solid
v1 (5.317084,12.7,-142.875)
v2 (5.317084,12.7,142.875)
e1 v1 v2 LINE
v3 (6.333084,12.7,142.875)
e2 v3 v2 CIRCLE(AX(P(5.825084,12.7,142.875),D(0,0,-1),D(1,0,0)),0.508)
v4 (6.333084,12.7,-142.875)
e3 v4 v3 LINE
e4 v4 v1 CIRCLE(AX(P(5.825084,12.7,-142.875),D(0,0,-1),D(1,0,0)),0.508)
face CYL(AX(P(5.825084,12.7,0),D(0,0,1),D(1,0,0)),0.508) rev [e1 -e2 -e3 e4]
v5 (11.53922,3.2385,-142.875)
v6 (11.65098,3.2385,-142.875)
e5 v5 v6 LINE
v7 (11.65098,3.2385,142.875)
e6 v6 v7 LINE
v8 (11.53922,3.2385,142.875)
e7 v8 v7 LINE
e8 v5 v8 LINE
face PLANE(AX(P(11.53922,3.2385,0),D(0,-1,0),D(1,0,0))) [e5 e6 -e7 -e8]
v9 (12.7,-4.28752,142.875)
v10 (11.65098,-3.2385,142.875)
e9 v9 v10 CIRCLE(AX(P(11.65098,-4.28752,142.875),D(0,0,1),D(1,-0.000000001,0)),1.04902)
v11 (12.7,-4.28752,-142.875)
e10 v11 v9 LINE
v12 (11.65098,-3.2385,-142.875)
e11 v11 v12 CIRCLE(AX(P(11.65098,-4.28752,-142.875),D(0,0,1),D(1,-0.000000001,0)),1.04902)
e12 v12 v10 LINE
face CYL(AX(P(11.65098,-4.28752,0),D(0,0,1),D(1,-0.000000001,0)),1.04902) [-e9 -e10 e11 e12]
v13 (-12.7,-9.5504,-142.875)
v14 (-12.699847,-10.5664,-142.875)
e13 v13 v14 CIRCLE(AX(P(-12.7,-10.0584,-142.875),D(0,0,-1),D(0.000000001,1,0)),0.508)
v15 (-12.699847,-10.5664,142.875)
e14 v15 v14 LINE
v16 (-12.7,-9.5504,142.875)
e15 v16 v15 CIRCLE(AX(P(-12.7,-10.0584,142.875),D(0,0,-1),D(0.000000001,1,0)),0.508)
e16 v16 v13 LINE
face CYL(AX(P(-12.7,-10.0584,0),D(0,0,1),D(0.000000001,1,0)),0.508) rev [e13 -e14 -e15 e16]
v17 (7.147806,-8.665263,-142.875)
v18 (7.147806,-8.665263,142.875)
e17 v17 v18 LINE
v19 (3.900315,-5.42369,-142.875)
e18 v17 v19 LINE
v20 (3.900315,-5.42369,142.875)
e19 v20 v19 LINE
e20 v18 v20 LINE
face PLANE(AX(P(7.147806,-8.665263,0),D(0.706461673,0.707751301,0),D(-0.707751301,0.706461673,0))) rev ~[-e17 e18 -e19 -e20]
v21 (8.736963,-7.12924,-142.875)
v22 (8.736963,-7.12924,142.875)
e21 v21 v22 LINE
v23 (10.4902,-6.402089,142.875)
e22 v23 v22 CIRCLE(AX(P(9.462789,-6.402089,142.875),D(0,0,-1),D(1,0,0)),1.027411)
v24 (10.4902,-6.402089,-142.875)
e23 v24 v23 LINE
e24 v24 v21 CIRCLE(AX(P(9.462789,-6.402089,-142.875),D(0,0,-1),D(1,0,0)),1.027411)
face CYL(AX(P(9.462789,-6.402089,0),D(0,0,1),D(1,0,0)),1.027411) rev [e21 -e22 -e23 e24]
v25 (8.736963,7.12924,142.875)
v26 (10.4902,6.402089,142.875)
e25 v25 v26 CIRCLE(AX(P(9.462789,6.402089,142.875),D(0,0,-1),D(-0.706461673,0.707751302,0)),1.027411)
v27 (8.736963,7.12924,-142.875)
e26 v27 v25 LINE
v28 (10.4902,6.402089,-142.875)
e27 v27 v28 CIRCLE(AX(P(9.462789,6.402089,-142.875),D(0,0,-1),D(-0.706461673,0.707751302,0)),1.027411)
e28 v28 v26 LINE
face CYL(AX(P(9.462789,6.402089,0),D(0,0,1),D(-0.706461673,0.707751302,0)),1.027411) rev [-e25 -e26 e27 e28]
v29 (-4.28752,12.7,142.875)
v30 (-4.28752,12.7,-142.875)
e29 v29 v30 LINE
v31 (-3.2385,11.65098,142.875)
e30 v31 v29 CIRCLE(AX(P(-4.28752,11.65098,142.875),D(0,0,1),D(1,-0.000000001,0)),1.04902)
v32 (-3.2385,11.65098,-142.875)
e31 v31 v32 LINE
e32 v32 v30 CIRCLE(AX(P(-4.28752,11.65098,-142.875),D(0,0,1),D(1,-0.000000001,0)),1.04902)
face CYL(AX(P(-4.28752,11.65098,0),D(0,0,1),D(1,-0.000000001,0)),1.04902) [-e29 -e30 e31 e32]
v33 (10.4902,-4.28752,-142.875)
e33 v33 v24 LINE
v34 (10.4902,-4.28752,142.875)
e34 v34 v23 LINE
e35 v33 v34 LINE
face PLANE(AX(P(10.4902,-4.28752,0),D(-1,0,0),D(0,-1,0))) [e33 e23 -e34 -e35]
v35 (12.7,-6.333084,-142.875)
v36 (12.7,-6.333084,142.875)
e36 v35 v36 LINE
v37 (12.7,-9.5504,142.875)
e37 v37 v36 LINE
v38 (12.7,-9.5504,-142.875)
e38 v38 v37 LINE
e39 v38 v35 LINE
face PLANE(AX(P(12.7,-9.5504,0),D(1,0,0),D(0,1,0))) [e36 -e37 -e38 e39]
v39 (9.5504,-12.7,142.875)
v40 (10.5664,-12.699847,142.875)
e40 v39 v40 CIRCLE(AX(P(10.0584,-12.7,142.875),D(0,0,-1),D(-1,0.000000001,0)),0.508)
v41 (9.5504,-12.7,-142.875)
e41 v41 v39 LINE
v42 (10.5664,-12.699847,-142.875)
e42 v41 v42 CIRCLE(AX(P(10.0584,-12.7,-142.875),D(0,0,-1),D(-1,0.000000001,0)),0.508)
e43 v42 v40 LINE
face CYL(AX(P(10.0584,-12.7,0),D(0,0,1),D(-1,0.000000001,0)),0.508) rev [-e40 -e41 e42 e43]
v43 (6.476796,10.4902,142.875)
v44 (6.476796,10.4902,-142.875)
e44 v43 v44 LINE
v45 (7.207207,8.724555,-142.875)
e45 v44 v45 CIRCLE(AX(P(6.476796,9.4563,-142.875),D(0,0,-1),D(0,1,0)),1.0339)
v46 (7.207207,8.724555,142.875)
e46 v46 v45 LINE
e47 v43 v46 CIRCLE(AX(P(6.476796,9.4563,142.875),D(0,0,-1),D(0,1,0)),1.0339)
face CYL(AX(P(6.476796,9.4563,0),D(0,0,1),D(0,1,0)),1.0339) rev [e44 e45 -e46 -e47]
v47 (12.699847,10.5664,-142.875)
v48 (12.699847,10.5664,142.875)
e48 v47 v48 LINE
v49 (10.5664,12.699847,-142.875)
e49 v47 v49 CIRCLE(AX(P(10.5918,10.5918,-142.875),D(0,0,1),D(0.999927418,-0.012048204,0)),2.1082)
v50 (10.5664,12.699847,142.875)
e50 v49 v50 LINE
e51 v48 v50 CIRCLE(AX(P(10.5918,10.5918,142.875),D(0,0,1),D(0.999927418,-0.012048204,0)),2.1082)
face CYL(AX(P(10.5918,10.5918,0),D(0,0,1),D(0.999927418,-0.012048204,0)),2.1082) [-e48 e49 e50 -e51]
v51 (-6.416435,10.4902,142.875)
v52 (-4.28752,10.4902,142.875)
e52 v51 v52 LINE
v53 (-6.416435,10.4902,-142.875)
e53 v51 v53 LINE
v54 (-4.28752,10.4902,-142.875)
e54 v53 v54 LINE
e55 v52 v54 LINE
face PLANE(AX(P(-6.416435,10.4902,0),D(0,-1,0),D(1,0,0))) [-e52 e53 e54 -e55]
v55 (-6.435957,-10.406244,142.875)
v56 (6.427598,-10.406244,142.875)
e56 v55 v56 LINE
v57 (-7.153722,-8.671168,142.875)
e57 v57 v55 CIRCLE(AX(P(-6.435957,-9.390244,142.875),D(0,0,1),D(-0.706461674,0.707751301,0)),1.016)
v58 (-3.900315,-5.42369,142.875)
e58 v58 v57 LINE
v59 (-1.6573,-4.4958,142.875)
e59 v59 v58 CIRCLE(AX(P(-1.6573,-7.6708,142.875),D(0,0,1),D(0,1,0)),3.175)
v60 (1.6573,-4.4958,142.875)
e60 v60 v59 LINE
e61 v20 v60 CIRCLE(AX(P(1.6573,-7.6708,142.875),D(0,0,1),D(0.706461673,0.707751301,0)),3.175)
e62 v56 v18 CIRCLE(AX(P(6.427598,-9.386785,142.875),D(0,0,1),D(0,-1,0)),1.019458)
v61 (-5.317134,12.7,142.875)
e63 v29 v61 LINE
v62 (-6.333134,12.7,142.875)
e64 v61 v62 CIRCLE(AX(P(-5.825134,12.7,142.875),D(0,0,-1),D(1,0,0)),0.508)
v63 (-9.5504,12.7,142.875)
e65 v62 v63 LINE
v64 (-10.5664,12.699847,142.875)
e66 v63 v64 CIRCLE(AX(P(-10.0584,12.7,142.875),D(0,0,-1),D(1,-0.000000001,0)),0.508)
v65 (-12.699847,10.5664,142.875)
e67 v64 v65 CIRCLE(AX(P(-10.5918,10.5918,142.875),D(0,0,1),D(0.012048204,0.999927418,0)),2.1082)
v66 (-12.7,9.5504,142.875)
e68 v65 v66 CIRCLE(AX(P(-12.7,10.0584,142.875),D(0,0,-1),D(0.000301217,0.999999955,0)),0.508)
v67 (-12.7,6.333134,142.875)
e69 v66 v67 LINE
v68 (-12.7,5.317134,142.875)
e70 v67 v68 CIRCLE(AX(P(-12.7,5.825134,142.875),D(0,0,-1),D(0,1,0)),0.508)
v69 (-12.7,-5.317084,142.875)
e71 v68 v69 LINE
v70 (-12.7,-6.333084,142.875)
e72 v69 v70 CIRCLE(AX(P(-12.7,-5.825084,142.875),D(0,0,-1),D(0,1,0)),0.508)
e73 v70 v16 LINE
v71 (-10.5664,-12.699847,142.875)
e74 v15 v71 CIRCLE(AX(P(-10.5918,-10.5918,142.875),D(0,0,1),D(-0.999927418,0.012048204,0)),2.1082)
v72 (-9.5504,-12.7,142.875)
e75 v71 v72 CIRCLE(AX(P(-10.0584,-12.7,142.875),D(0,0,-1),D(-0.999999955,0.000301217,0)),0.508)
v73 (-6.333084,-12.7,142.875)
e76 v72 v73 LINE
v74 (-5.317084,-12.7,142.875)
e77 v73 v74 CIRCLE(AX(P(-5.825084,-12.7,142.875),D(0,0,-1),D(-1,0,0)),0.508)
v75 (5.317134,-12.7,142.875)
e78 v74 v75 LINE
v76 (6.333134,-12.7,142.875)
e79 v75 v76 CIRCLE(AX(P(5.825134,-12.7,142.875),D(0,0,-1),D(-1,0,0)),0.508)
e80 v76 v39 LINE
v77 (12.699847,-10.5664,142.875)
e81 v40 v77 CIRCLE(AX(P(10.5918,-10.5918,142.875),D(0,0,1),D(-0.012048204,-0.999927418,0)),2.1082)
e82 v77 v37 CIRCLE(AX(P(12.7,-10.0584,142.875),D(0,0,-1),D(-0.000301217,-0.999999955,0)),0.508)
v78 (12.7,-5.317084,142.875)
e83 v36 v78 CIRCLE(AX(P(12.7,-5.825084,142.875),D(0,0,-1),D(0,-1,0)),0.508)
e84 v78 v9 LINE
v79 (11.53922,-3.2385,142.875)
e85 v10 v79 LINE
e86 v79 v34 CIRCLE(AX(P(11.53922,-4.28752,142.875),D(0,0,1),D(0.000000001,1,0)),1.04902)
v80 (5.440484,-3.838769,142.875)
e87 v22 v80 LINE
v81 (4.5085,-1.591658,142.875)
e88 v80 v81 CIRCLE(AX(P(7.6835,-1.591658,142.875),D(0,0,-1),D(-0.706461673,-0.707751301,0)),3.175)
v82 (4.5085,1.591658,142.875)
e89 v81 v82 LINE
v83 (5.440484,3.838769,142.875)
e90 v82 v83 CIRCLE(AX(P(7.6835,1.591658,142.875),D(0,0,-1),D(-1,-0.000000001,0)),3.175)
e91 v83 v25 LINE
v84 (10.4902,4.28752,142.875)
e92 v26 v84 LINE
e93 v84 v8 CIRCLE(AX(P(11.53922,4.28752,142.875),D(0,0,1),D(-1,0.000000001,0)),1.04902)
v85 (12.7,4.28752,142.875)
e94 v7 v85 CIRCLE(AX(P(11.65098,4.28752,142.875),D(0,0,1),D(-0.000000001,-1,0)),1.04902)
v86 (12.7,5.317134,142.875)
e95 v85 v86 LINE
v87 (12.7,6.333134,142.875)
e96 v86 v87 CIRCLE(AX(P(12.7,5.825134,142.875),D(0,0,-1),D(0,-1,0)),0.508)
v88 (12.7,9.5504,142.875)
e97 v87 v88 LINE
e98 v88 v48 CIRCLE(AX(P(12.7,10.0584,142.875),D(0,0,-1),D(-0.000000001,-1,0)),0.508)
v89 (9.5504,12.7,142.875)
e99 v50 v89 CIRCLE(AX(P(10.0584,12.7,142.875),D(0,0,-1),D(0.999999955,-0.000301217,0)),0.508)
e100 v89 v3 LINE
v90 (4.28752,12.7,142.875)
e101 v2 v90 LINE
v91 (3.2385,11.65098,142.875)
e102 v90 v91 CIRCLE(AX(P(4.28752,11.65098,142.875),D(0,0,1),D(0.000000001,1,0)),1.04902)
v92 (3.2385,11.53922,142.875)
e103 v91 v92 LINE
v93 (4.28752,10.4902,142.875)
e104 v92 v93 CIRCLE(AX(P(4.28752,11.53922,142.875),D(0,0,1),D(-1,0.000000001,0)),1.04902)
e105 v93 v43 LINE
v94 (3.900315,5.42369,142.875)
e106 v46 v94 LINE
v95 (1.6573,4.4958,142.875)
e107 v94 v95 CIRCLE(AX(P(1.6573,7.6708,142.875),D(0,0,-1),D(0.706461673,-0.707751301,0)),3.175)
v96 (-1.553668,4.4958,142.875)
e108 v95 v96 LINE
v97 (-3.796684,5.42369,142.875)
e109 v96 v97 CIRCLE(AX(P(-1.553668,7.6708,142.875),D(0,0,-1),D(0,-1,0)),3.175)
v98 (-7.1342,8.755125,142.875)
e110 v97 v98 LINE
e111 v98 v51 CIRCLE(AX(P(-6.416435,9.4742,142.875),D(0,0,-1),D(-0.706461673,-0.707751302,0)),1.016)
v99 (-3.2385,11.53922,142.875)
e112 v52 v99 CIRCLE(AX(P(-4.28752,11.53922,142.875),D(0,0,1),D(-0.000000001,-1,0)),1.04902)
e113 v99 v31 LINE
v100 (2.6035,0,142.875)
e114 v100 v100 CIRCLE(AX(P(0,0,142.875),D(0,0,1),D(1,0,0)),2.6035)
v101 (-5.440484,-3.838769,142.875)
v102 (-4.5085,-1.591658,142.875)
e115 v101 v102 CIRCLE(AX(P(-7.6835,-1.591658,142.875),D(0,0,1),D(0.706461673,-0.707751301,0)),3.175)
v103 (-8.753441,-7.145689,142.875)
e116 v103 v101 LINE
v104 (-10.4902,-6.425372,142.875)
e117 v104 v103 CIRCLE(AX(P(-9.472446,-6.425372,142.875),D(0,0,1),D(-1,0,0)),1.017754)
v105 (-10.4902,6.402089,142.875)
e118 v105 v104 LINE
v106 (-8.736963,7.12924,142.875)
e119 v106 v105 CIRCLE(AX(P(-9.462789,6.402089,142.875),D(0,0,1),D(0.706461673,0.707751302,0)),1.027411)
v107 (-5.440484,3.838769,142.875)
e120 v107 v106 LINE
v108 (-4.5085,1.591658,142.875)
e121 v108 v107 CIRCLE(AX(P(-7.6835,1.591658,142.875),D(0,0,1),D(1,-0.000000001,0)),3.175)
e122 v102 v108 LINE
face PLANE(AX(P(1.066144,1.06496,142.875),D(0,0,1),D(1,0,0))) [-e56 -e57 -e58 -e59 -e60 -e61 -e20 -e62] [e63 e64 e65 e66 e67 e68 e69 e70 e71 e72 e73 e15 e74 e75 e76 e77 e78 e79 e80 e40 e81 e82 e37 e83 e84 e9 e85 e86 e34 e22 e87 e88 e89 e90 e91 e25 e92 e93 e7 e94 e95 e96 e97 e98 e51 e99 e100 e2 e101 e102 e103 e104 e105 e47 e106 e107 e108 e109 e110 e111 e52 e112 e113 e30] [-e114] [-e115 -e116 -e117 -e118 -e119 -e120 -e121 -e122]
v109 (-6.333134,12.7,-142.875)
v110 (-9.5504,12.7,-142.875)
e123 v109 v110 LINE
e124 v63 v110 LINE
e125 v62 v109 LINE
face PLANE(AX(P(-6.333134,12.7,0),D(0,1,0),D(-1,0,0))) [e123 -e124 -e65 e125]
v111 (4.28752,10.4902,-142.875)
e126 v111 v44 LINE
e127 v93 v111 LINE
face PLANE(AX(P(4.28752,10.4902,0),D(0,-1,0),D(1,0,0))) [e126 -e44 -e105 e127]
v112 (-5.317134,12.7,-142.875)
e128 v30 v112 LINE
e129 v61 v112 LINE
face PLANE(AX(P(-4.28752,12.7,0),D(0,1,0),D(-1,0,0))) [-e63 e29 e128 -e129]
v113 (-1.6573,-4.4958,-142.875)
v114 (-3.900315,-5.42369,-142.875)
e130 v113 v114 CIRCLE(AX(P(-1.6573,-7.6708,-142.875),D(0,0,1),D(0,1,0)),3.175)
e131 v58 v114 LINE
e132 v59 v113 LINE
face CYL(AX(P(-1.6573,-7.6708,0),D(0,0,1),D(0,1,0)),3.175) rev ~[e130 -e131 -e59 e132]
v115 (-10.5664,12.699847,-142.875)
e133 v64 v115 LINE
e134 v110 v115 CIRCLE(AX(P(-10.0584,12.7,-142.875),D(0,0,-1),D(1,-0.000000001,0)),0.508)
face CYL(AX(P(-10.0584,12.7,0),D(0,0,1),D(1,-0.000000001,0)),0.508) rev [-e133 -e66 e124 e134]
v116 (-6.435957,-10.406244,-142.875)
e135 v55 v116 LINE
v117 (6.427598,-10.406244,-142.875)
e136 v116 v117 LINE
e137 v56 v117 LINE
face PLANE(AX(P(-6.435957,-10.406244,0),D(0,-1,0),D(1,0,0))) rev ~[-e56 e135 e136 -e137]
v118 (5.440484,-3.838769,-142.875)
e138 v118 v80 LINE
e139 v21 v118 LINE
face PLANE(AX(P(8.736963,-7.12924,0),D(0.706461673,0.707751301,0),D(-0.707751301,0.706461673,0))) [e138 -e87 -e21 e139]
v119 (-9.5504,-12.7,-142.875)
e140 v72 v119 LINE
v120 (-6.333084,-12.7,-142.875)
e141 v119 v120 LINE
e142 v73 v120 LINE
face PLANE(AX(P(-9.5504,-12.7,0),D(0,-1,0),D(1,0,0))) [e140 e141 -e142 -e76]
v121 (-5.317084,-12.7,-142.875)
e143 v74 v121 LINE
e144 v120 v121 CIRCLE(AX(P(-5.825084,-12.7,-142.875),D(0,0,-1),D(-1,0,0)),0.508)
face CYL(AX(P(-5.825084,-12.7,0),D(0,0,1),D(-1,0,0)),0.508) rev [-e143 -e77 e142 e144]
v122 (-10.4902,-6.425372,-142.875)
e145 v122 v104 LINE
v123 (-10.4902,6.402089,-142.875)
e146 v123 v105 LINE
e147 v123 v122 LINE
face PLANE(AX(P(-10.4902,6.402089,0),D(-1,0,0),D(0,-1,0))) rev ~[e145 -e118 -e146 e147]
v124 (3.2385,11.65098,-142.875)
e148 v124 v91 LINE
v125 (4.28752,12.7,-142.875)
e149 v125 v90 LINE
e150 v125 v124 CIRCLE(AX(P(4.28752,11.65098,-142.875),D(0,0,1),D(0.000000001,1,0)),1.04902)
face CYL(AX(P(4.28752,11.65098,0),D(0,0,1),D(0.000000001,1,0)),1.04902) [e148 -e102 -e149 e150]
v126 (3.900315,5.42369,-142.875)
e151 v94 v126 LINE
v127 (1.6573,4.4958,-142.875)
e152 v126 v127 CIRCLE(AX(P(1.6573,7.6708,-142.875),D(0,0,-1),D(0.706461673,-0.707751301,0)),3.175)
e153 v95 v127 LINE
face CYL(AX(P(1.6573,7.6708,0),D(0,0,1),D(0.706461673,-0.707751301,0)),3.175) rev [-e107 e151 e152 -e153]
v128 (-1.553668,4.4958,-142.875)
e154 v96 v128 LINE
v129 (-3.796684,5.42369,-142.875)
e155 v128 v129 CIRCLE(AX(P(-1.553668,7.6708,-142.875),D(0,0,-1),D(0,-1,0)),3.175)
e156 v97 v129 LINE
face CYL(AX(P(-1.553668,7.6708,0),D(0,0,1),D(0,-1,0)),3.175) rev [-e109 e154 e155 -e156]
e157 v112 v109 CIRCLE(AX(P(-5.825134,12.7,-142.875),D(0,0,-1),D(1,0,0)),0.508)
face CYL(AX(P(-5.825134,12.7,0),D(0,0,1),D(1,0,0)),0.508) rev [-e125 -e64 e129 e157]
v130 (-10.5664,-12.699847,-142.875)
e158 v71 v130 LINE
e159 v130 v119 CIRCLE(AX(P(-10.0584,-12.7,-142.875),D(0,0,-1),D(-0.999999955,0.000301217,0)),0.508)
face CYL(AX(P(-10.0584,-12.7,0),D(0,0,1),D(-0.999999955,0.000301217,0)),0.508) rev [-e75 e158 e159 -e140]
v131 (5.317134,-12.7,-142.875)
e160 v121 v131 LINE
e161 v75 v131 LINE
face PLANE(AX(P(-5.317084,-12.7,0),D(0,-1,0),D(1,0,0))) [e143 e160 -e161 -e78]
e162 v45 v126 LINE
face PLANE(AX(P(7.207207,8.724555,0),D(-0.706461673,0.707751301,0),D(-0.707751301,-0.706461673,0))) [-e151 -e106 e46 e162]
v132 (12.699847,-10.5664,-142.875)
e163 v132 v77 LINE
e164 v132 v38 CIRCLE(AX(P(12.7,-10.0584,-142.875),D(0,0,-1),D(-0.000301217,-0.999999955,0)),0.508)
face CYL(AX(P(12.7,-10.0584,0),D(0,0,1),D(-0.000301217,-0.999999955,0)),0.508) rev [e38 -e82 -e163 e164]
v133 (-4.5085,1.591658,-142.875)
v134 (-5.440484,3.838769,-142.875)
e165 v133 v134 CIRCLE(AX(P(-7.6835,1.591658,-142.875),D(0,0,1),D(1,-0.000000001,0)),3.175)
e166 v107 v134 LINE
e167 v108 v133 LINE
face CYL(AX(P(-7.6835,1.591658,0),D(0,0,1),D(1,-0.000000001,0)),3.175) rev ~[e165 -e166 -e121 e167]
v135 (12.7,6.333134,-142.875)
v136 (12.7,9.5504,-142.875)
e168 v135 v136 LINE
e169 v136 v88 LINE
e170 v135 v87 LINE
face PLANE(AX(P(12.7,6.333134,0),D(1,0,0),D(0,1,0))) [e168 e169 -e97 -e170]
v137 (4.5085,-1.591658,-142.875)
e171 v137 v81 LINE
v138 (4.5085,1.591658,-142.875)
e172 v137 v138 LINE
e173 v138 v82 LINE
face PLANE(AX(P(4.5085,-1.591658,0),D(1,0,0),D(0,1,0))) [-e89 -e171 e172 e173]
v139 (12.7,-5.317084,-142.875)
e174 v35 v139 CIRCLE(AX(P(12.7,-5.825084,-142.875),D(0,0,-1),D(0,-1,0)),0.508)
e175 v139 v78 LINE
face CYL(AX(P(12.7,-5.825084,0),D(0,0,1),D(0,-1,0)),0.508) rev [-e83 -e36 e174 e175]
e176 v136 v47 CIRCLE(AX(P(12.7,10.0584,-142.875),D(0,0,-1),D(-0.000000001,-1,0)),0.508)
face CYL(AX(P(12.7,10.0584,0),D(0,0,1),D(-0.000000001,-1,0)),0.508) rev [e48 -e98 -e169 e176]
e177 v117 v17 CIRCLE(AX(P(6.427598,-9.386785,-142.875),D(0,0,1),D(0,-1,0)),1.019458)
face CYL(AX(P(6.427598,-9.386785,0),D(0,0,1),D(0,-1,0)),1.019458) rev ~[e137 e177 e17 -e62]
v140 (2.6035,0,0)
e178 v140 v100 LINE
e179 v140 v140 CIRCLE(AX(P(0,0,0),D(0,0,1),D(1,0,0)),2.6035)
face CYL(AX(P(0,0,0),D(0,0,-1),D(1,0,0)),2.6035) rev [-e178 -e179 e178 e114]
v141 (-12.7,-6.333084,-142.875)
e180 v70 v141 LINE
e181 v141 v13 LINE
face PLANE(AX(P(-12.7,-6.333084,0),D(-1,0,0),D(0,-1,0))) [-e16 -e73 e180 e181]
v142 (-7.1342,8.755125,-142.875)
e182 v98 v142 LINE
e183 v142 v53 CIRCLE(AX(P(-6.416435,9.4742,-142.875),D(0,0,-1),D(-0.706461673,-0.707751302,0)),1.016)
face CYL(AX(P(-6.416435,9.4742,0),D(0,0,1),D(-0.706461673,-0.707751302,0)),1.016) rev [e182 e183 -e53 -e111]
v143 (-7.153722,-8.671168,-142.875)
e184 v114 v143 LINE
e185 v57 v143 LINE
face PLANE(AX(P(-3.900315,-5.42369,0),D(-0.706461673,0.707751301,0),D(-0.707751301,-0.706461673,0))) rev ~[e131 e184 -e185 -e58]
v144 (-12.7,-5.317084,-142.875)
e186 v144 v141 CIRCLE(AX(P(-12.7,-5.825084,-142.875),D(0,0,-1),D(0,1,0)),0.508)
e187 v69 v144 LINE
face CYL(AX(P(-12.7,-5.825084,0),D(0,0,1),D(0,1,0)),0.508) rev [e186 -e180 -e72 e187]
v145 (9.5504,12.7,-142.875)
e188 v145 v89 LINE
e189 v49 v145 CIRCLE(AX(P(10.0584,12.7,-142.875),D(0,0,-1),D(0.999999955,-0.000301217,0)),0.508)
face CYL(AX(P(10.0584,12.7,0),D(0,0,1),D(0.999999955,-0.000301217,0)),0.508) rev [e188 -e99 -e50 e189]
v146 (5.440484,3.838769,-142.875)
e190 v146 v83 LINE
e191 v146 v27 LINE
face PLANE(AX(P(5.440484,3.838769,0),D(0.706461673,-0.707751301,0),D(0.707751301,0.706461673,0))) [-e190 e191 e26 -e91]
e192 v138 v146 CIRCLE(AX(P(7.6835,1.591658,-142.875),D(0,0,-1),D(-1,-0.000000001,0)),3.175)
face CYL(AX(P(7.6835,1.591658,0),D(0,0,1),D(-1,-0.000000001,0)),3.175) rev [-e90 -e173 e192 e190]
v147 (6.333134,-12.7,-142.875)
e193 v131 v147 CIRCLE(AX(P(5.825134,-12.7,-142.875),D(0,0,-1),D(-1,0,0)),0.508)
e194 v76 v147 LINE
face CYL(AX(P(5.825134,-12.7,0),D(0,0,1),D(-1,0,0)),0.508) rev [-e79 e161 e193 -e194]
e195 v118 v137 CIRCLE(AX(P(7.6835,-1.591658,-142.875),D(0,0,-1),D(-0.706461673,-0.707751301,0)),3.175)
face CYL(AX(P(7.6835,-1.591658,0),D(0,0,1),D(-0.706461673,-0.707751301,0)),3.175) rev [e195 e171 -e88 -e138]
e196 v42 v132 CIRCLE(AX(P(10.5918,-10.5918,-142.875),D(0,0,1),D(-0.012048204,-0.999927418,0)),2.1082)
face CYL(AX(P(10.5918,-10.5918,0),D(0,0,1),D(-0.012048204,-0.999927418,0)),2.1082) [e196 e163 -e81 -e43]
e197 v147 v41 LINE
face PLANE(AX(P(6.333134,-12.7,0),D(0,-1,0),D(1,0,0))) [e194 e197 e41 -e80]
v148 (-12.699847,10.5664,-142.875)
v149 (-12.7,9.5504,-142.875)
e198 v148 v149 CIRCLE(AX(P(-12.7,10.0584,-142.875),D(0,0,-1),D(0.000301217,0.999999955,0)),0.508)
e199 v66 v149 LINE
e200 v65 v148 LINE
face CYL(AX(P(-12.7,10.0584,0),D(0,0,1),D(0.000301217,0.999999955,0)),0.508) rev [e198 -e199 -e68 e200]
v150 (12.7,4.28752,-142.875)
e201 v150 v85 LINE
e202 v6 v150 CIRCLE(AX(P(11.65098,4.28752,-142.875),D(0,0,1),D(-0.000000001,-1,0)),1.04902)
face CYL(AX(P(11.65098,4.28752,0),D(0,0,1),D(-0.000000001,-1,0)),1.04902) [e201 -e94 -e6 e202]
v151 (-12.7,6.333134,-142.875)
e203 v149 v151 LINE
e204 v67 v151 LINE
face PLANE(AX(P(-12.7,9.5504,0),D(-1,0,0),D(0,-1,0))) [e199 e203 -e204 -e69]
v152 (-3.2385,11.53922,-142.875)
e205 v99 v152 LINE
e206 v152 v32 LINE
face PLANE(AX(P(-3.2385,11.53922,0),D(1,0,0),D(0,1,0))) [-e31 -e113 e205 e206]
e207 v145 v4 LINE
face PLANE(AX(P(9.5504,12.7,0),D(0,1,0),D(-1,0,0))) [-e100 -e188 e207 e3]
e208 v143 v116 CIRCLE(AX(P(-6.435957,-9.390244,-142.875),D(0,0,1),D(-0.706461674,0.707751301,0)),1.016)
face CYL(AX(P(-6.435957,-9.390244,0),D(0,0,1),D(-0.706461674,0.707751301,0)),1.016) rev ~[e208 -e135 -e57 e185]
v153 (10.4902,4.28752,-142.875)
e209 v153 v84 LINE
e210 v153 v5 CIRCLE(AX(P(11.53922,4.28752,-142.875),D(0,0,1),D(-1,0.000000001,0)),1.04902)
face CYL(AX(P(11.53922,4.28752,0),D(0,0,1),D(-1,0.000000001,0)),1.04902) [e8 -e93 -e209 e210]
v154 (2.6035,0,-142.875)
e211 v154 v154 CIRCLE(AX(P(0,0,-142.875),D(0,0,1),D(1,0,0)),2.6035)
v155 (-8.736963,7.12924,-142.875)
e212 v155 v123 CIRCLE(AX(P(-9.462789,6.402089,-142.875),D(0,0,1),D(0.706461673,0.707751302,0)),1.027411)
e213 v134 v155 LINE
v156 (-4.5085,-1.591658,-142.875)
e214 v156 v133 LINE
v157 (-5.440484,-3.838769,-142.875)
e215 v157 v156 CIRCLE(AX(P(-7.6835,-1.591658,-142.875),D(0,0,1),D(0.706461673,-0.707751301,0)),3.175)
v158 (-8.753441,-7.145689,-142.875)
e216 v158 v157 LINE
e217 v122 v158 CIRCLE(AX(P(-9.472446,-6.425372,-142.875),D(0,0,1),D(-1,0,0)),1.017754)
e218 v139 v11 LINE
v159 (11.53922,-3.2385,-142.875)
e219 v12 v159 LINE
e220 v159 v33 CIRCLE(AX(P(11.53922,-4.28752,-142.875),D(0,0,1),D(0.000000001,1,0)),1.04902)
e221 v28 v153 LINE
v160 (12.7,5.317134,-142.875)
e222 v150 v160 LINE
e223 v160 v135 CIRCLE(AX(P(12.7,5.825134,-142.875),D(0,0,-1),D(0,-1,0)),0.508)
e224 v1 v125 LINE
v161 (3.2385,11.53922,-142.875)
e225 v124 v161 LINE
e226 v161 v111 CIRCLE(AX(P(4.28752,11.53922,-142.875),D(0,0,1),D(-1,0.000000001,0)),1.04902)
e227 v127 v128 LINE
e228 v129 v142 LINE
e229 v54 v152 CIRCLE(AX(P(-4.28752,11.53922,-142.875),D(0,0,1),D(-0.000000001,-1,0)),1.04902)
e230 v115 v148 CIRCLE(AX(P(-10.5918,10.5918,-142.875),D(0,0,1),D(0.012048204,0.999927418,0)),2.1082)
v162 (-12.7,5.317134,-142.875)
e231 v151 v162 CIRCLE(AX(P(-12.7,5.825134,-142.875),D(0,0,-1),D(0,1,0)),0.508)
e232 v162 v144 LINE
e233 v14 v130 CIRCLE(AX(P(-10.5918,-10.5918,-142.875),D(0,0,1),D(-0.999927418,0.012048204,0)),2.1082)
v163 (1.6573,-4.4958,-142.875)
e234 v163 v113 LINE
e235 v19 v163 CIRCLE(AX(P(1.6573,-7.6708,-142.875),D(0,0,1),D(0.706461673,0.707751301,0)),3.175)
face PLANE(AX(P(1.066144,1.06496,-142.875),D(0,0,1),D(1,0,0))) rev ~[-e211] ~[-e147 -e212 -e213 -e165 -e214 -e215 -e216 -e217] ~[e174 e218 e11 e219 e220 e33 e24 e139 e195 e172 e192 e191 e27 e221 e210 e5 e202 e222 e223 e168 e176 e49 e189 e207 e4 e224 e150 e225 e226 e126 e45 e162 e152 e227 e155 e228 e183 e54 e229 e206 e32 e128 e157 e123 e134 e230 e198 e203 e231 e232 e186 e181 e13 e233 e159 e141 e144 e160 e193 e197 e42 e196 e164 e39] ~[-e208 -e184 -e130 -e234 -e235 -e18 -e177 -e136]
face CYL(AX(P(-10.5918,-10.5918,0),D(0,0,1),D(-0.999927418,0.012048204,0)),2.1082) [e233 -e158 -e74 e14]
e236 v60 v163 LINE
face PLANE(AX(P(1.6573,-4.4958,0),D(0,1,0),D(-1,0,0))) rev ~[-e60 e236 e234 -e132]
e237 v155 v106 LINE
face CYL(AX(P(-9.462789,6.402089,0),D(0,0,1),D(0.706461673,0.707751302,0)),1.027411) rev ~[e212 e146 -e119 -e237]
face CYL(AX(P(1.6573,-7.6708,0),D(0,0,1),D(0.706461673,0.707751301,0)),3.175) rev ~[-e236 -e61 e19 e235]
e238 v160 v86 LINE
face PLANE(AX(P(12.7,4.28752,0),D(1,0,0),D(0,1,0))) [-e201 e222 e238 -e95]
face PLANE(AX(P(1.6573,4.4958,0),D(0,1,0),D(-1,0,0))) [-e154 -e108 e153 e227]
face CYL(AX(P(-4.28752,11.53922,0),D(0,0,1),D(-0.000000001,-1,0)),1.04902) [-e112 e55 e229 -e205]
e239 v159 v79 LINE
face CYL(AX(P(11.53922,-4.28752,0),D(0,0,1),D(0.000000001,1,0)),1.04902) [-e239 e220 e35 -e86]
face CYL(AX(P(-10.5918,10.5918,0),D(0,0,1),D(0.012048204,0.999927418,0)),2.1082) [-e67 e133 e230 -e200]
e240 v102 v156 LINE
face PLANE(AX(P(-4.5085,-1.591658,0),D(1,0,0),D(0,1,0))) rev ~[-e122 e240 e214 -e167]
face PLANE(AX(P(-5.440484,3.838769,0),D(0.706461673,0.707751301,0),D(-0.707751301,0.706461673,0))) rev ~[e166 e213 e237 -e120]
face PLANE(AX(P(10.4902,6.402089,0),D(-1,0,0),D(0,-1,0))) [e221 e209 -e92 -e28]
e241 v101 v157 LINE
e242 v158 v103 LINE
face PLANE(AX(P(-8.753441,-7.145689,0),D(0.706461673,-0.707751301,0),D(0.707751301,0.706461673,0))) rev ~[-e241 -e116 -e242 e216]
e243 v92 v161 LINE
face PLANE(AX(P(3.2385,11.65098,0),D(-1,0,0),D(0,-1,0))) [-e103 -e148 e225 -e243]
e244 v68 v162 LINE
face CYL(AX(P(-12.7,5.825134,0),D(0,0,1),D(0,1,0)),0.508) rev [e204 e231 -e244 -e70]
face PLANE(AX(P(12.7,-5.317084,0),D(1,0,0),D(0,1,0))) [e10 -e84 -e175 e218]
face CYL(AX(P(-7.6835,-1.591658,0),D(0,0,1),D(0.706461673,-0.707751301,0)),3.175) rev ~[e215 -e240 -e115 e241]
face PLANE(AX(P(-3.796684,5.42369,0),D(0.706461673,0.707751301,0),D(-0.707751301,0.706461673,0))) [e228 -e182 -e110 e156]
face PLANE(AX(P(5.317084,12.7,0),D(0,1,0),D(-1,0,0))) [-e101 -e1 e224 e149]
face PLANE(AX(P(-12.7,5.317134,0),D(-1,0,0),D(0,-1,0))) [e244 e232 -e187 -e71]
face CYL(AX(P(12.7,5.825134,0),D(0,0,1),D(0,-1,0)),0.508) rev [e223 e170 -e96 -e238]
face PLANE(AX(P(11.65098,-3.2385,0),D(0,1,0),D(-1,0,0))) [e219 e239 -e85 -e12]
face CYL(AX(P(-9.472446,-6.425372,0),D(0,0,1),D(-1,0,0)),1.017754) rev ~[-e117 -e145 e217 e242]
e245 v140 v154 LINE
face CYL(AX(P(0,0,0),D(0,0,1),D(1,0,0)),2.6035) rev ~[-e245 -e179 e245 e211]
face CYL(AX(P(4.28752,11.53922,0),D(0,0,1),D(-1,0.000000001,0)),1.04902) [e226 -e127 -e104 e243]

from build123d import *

# Parameters (mm, degrees)
SKETCH3_R                = 2.6035
BOSS_EXTRUDE1_DEPTH      = 142.875
BOSS_EXTRUDE1_DEPTH_BACK = 142.875


with BuildPart() as part:
    # Sketch3 → Boss-Extrude1 (new body, two sides)
    with BuildSketch(Plane.XY) as boss_extrude1_sk:
        with BuildLine():
            Line((6.3331344, -12.7), (9.5504, -12.7))
            ThreePointArc((9.5504, -12.7), (10.058323491, -12.192000006), (10.566399977, -12.699846982))
            ThreePointArc((10.566399977, -12.699846982), (12.082522516, -12.082522516), (12.699846982, -10.566399977))
            ThreePointArc((12.699846982, -10.566399977), (12.192000006, -10.058323491), (12.7, -9.5504))
            Line((12.7, -9.5504), (12.7, -6.3330836))
            ThreePointArc((12.7, -6.3330836), (12.192, -5.8250836), (12.7, -5.3170836))
            Line((12.7, -5.3170836), (12.7, -4.28752))
            ThreePointArc((12.7, -4.28752), (12.392749156, -3.545750844), (11.65098, -3.2385))
            Line((11.65098, -3.2385), (11.53922, -3.2385))
            ThreePointArc((11.53922, -3.2385), (10.797450844, -3.545750844), (10.4902, -4.28752))
            Line((10.4902, -4.28752), (10.4902, -6.402089023))
            ThreePointArc((10.4902, -6.402089023), (9.856394933, -7.351113629), (8.736962546, -7.129240479))
            Line((8.736962546, -7.129240479), (5.440484187, -3.838768792))
            ThreePointArc((5.440484187, -3.838768792), (4.75073678, -2.808015636), (4.5085, -1.591658411))
            Line((4.5085, -1.591658411), (4.5085, 1.591658411))
            ThreePointArc((4.5085, 1.591658411), (4.75073678, 2.808015636), (5.440484187, 3.838768792))
            Line((5.440484187, 3.838768792), (8.736962546, 7.129240479))
            ThreePointArc((8.736962546, 7.129240479), (9.856394933, 7.351113629), (10.4902, 6.402089023))
            Line((10.4902, 6.402089023), (10.4902, 4.28752))
            ThreePointArc((10.4902, 4.28752), (10.797450844, 3.545750844), (11.53922, 3.2385))
            Line((11.53922, 3.2385), (11.65098, 3.2385))
            ThreePointArc((11.65098, 3.2385), (12.392749156, 3.545750844), (12.7, 4.28752))
            Line((12.7, 4.28752), (12.7, 5.3171344))
            ThreePointArc((12.7, 5.3171344), (12.192, 5.8251344), (12.7, 6.3331344))
            Line((12.7, 6.3331344), (12.7, 9.5504))
            ThreePointArc((12.7, 9.5504), (12.192000006, 10.058323491), (12.699846982, 10.566399977))
            ThreePointArc((12.699846982, 10.566399977), (12.082522516, 12.082522516), (10.566399977, 12.699846982))
            ThreePointArc((10.566399977, 12.699846982), (10.058323491, 12.192000006), (9.5504, 12.7))
            Line((9.5504, 12.7), (6.3330836, 12.7))
            ThreePointArc((6.3330836, 12.7), (5.8250836, 12.192), (5.3170836, 12.7))
            Line((5.3170836, 12.7), (4.28752, 12.7))
            ThreePointArc((4.28752, 12.7), (3.545750844, 12.392749156), (3.2385, 11.65098))
            Line((3.2385, 11.65098), (3.2385, 11.53922))
            ThreePointArc((3.2385, 11.53922), (3.545750844, 10.797450844), (4.28752, 10.4902))
            Line((4.28752, 10.4902), (6.476795923, 10.4902))
            ThreePointArc((6.476795923, 10.4902), (7.432175542, 9.851520654), (7.207206853, 8.724555432))
            Line((7.207206853, 8.724555432), (3.900315394, 5.423689619))
            ThreePointArc((3.900315394, 5.423689619), (2.8709819, 4.736928798), (1.657299581, 4.4958))
            Line((1.657299581, 4.4958), (-1.553667902, 4.4958))
            ThreePointArc((-1.553667902, 4.4958), (-2.767350221, 4.736928798), (-3.796683715, 5.423689619))
            Line((-3.796683715, 5.423689619), (-7.134200223, 8.755124678))
            ThreePointArc((-7.134200223, 8.755124678), (-7.355273948, 9.862578342), (-6.416435163, 10.4902))
            Line((-6.416435163, 10.4902), (-4.28752, 10.4902))
            ThreePointArc((-4.28752, 10.4902), (-3.545750844, 10.797450844), (-3.2385, 11.53922))
            Line((-3.2385, 11.53922), (-3.2385, 11.65098))
            ThreePointArc((-3.2385, 11.65098), (-3.545750844, 12.392749156), (-4.28752, 12.7))
            Line((-4.28752, 12.7), (-5.3171344, 12.7))
            ThreePointArc((-5.3171344, 12.7), (-5.8251344, 12.192), (-6.3331344, 12.7))
            Line((-6.3331344, 12.7), (-9.5504, 12.7))
            ThreePointArc((-9.5504, 12.7), (-10.058323491, 12.192000006), (-10.566399977, 12.699846982))
            ThreePointArc((-10.566399977, 12.699846982), (-12.082522516, 12.082522516), (-12.699846982, 10.566399977))
            ThreePointArc((-12.699846982, 10.566399977), (-12.192000006, 10.058323491), (-12.7, 9.5504))
            Line((-12.7, 9.5504), (-12.7, 6.3331344))
            ThreePointArc((-12.7, 6.3331344), (-12.192, 5.8251344), (-12.7, 5.3171344))
            Line((-12.7, 5.3171344), (-12.7, -5.3170836))
            ThreePointArc((-12.7, -5.3170836), (-12.192, -5.8250836), (-12.7, -6.3330836))
            Line((-12.7, -6.3330836), (-12.7, -9.5504))
            ThreePointArc((-12.7, -9.5504), (-12.192000006, -10.058323491), (-12.699846982, -10.566399977))
            ThreePointArc((-12.699846982, -10.566399977), (-12.082522516, -12.082522516), (-10.566399977, -12.699846982))
            ThreePointArc((-10.566399977, -12.699846982), (-10.058323491, -12.192000006), (-9.5504, -12.7))
            Line((-9.5504, -12.7), (-6.3330836, -12.7))
            ThreePointArc((-6.3330836, -12.7), (-5.8250836, -12.192), (-5.3170836, -12.7))
            Line((-5.3170836, -12.7), (5.3171344, -12.7))
            ThreePointArc((5.3171344, -12.7), (5.8251344, -12.192), (6.3331344, -12.7))
        make_face()
        Circle(SKETCH3_R, mode=Mode.SUBTRACT)
        with BuildLine():
            Line((-8.753441447, -7.145689354), (-5.440484187, -3.838768792))
            ThreePointArc((-5.440484187, -3.838768792), (-4.75073678, -2.808015636), (-4.5085, -1.591658411))
            Line((-4.5085, -1.591658411), (-4.5085, 1.591658411))
            ThreePointArc((-4.5085, 1.591658411), (-4.75073678, 2.808015636), (-5.440484187, 3.838768792))
            Line((-5.440484187, 3.838768792), (-8.736962546, 7.129240479))
            ThreePointArc((-8.736962546, 7.129240479), (-9.856394933, 7.351113629), (-10.4902, 6.402089023))
            Line((-10.4902, 6.402089023), (-10.4902, -6.425372487))
            ThreePointArc((-10.4902, -6.425372487), (-9.862352148, -7.36547709), (-8.753441447, -7.145689354))
        make_face(mode=Mode.SUBTRACT)
        with BuildLine():
            Line((7.147805753, -8.66526257), (3.900315394, -5.423689619))
            ThreePointArc((3.900315394, -5.423689619), (2.8709819, -4.736928798), (1.657299581, -4.4958))
            Line((1.657299581, -4.4958), (-1.657299581, -4.4958))
            ThreePointArc((-1.657299581, -4.4958), (-2.8709819, -4.736928798), (-3.900315394, -5.423689619))
            Line((-3.900315394, -5.423689619), (-7.153722341, -8.671168377))
            ThreePointArc((-7.153722341, -8.671168377), (-7.374796065, -9.77862204), (-6.435957281, -10.406243698))
            Line((-6.435957281, -10.406243698), (6.427597582, -10.406243698))
            ThreePointArc((6.427597582, -10.406243698), (7.369631963, -9.776485757), (7.147805753, -8.66526257))
        make_face(mode=Mode.SUBTRACT)
    extrude(amount=BOSS_EXTRUDE1_DEPTH)
    extrude(boss_extrude1_sk.sketch, amount=-BOSS_EXTRUDE1_DEPTH_BACK)


solid = part.part
